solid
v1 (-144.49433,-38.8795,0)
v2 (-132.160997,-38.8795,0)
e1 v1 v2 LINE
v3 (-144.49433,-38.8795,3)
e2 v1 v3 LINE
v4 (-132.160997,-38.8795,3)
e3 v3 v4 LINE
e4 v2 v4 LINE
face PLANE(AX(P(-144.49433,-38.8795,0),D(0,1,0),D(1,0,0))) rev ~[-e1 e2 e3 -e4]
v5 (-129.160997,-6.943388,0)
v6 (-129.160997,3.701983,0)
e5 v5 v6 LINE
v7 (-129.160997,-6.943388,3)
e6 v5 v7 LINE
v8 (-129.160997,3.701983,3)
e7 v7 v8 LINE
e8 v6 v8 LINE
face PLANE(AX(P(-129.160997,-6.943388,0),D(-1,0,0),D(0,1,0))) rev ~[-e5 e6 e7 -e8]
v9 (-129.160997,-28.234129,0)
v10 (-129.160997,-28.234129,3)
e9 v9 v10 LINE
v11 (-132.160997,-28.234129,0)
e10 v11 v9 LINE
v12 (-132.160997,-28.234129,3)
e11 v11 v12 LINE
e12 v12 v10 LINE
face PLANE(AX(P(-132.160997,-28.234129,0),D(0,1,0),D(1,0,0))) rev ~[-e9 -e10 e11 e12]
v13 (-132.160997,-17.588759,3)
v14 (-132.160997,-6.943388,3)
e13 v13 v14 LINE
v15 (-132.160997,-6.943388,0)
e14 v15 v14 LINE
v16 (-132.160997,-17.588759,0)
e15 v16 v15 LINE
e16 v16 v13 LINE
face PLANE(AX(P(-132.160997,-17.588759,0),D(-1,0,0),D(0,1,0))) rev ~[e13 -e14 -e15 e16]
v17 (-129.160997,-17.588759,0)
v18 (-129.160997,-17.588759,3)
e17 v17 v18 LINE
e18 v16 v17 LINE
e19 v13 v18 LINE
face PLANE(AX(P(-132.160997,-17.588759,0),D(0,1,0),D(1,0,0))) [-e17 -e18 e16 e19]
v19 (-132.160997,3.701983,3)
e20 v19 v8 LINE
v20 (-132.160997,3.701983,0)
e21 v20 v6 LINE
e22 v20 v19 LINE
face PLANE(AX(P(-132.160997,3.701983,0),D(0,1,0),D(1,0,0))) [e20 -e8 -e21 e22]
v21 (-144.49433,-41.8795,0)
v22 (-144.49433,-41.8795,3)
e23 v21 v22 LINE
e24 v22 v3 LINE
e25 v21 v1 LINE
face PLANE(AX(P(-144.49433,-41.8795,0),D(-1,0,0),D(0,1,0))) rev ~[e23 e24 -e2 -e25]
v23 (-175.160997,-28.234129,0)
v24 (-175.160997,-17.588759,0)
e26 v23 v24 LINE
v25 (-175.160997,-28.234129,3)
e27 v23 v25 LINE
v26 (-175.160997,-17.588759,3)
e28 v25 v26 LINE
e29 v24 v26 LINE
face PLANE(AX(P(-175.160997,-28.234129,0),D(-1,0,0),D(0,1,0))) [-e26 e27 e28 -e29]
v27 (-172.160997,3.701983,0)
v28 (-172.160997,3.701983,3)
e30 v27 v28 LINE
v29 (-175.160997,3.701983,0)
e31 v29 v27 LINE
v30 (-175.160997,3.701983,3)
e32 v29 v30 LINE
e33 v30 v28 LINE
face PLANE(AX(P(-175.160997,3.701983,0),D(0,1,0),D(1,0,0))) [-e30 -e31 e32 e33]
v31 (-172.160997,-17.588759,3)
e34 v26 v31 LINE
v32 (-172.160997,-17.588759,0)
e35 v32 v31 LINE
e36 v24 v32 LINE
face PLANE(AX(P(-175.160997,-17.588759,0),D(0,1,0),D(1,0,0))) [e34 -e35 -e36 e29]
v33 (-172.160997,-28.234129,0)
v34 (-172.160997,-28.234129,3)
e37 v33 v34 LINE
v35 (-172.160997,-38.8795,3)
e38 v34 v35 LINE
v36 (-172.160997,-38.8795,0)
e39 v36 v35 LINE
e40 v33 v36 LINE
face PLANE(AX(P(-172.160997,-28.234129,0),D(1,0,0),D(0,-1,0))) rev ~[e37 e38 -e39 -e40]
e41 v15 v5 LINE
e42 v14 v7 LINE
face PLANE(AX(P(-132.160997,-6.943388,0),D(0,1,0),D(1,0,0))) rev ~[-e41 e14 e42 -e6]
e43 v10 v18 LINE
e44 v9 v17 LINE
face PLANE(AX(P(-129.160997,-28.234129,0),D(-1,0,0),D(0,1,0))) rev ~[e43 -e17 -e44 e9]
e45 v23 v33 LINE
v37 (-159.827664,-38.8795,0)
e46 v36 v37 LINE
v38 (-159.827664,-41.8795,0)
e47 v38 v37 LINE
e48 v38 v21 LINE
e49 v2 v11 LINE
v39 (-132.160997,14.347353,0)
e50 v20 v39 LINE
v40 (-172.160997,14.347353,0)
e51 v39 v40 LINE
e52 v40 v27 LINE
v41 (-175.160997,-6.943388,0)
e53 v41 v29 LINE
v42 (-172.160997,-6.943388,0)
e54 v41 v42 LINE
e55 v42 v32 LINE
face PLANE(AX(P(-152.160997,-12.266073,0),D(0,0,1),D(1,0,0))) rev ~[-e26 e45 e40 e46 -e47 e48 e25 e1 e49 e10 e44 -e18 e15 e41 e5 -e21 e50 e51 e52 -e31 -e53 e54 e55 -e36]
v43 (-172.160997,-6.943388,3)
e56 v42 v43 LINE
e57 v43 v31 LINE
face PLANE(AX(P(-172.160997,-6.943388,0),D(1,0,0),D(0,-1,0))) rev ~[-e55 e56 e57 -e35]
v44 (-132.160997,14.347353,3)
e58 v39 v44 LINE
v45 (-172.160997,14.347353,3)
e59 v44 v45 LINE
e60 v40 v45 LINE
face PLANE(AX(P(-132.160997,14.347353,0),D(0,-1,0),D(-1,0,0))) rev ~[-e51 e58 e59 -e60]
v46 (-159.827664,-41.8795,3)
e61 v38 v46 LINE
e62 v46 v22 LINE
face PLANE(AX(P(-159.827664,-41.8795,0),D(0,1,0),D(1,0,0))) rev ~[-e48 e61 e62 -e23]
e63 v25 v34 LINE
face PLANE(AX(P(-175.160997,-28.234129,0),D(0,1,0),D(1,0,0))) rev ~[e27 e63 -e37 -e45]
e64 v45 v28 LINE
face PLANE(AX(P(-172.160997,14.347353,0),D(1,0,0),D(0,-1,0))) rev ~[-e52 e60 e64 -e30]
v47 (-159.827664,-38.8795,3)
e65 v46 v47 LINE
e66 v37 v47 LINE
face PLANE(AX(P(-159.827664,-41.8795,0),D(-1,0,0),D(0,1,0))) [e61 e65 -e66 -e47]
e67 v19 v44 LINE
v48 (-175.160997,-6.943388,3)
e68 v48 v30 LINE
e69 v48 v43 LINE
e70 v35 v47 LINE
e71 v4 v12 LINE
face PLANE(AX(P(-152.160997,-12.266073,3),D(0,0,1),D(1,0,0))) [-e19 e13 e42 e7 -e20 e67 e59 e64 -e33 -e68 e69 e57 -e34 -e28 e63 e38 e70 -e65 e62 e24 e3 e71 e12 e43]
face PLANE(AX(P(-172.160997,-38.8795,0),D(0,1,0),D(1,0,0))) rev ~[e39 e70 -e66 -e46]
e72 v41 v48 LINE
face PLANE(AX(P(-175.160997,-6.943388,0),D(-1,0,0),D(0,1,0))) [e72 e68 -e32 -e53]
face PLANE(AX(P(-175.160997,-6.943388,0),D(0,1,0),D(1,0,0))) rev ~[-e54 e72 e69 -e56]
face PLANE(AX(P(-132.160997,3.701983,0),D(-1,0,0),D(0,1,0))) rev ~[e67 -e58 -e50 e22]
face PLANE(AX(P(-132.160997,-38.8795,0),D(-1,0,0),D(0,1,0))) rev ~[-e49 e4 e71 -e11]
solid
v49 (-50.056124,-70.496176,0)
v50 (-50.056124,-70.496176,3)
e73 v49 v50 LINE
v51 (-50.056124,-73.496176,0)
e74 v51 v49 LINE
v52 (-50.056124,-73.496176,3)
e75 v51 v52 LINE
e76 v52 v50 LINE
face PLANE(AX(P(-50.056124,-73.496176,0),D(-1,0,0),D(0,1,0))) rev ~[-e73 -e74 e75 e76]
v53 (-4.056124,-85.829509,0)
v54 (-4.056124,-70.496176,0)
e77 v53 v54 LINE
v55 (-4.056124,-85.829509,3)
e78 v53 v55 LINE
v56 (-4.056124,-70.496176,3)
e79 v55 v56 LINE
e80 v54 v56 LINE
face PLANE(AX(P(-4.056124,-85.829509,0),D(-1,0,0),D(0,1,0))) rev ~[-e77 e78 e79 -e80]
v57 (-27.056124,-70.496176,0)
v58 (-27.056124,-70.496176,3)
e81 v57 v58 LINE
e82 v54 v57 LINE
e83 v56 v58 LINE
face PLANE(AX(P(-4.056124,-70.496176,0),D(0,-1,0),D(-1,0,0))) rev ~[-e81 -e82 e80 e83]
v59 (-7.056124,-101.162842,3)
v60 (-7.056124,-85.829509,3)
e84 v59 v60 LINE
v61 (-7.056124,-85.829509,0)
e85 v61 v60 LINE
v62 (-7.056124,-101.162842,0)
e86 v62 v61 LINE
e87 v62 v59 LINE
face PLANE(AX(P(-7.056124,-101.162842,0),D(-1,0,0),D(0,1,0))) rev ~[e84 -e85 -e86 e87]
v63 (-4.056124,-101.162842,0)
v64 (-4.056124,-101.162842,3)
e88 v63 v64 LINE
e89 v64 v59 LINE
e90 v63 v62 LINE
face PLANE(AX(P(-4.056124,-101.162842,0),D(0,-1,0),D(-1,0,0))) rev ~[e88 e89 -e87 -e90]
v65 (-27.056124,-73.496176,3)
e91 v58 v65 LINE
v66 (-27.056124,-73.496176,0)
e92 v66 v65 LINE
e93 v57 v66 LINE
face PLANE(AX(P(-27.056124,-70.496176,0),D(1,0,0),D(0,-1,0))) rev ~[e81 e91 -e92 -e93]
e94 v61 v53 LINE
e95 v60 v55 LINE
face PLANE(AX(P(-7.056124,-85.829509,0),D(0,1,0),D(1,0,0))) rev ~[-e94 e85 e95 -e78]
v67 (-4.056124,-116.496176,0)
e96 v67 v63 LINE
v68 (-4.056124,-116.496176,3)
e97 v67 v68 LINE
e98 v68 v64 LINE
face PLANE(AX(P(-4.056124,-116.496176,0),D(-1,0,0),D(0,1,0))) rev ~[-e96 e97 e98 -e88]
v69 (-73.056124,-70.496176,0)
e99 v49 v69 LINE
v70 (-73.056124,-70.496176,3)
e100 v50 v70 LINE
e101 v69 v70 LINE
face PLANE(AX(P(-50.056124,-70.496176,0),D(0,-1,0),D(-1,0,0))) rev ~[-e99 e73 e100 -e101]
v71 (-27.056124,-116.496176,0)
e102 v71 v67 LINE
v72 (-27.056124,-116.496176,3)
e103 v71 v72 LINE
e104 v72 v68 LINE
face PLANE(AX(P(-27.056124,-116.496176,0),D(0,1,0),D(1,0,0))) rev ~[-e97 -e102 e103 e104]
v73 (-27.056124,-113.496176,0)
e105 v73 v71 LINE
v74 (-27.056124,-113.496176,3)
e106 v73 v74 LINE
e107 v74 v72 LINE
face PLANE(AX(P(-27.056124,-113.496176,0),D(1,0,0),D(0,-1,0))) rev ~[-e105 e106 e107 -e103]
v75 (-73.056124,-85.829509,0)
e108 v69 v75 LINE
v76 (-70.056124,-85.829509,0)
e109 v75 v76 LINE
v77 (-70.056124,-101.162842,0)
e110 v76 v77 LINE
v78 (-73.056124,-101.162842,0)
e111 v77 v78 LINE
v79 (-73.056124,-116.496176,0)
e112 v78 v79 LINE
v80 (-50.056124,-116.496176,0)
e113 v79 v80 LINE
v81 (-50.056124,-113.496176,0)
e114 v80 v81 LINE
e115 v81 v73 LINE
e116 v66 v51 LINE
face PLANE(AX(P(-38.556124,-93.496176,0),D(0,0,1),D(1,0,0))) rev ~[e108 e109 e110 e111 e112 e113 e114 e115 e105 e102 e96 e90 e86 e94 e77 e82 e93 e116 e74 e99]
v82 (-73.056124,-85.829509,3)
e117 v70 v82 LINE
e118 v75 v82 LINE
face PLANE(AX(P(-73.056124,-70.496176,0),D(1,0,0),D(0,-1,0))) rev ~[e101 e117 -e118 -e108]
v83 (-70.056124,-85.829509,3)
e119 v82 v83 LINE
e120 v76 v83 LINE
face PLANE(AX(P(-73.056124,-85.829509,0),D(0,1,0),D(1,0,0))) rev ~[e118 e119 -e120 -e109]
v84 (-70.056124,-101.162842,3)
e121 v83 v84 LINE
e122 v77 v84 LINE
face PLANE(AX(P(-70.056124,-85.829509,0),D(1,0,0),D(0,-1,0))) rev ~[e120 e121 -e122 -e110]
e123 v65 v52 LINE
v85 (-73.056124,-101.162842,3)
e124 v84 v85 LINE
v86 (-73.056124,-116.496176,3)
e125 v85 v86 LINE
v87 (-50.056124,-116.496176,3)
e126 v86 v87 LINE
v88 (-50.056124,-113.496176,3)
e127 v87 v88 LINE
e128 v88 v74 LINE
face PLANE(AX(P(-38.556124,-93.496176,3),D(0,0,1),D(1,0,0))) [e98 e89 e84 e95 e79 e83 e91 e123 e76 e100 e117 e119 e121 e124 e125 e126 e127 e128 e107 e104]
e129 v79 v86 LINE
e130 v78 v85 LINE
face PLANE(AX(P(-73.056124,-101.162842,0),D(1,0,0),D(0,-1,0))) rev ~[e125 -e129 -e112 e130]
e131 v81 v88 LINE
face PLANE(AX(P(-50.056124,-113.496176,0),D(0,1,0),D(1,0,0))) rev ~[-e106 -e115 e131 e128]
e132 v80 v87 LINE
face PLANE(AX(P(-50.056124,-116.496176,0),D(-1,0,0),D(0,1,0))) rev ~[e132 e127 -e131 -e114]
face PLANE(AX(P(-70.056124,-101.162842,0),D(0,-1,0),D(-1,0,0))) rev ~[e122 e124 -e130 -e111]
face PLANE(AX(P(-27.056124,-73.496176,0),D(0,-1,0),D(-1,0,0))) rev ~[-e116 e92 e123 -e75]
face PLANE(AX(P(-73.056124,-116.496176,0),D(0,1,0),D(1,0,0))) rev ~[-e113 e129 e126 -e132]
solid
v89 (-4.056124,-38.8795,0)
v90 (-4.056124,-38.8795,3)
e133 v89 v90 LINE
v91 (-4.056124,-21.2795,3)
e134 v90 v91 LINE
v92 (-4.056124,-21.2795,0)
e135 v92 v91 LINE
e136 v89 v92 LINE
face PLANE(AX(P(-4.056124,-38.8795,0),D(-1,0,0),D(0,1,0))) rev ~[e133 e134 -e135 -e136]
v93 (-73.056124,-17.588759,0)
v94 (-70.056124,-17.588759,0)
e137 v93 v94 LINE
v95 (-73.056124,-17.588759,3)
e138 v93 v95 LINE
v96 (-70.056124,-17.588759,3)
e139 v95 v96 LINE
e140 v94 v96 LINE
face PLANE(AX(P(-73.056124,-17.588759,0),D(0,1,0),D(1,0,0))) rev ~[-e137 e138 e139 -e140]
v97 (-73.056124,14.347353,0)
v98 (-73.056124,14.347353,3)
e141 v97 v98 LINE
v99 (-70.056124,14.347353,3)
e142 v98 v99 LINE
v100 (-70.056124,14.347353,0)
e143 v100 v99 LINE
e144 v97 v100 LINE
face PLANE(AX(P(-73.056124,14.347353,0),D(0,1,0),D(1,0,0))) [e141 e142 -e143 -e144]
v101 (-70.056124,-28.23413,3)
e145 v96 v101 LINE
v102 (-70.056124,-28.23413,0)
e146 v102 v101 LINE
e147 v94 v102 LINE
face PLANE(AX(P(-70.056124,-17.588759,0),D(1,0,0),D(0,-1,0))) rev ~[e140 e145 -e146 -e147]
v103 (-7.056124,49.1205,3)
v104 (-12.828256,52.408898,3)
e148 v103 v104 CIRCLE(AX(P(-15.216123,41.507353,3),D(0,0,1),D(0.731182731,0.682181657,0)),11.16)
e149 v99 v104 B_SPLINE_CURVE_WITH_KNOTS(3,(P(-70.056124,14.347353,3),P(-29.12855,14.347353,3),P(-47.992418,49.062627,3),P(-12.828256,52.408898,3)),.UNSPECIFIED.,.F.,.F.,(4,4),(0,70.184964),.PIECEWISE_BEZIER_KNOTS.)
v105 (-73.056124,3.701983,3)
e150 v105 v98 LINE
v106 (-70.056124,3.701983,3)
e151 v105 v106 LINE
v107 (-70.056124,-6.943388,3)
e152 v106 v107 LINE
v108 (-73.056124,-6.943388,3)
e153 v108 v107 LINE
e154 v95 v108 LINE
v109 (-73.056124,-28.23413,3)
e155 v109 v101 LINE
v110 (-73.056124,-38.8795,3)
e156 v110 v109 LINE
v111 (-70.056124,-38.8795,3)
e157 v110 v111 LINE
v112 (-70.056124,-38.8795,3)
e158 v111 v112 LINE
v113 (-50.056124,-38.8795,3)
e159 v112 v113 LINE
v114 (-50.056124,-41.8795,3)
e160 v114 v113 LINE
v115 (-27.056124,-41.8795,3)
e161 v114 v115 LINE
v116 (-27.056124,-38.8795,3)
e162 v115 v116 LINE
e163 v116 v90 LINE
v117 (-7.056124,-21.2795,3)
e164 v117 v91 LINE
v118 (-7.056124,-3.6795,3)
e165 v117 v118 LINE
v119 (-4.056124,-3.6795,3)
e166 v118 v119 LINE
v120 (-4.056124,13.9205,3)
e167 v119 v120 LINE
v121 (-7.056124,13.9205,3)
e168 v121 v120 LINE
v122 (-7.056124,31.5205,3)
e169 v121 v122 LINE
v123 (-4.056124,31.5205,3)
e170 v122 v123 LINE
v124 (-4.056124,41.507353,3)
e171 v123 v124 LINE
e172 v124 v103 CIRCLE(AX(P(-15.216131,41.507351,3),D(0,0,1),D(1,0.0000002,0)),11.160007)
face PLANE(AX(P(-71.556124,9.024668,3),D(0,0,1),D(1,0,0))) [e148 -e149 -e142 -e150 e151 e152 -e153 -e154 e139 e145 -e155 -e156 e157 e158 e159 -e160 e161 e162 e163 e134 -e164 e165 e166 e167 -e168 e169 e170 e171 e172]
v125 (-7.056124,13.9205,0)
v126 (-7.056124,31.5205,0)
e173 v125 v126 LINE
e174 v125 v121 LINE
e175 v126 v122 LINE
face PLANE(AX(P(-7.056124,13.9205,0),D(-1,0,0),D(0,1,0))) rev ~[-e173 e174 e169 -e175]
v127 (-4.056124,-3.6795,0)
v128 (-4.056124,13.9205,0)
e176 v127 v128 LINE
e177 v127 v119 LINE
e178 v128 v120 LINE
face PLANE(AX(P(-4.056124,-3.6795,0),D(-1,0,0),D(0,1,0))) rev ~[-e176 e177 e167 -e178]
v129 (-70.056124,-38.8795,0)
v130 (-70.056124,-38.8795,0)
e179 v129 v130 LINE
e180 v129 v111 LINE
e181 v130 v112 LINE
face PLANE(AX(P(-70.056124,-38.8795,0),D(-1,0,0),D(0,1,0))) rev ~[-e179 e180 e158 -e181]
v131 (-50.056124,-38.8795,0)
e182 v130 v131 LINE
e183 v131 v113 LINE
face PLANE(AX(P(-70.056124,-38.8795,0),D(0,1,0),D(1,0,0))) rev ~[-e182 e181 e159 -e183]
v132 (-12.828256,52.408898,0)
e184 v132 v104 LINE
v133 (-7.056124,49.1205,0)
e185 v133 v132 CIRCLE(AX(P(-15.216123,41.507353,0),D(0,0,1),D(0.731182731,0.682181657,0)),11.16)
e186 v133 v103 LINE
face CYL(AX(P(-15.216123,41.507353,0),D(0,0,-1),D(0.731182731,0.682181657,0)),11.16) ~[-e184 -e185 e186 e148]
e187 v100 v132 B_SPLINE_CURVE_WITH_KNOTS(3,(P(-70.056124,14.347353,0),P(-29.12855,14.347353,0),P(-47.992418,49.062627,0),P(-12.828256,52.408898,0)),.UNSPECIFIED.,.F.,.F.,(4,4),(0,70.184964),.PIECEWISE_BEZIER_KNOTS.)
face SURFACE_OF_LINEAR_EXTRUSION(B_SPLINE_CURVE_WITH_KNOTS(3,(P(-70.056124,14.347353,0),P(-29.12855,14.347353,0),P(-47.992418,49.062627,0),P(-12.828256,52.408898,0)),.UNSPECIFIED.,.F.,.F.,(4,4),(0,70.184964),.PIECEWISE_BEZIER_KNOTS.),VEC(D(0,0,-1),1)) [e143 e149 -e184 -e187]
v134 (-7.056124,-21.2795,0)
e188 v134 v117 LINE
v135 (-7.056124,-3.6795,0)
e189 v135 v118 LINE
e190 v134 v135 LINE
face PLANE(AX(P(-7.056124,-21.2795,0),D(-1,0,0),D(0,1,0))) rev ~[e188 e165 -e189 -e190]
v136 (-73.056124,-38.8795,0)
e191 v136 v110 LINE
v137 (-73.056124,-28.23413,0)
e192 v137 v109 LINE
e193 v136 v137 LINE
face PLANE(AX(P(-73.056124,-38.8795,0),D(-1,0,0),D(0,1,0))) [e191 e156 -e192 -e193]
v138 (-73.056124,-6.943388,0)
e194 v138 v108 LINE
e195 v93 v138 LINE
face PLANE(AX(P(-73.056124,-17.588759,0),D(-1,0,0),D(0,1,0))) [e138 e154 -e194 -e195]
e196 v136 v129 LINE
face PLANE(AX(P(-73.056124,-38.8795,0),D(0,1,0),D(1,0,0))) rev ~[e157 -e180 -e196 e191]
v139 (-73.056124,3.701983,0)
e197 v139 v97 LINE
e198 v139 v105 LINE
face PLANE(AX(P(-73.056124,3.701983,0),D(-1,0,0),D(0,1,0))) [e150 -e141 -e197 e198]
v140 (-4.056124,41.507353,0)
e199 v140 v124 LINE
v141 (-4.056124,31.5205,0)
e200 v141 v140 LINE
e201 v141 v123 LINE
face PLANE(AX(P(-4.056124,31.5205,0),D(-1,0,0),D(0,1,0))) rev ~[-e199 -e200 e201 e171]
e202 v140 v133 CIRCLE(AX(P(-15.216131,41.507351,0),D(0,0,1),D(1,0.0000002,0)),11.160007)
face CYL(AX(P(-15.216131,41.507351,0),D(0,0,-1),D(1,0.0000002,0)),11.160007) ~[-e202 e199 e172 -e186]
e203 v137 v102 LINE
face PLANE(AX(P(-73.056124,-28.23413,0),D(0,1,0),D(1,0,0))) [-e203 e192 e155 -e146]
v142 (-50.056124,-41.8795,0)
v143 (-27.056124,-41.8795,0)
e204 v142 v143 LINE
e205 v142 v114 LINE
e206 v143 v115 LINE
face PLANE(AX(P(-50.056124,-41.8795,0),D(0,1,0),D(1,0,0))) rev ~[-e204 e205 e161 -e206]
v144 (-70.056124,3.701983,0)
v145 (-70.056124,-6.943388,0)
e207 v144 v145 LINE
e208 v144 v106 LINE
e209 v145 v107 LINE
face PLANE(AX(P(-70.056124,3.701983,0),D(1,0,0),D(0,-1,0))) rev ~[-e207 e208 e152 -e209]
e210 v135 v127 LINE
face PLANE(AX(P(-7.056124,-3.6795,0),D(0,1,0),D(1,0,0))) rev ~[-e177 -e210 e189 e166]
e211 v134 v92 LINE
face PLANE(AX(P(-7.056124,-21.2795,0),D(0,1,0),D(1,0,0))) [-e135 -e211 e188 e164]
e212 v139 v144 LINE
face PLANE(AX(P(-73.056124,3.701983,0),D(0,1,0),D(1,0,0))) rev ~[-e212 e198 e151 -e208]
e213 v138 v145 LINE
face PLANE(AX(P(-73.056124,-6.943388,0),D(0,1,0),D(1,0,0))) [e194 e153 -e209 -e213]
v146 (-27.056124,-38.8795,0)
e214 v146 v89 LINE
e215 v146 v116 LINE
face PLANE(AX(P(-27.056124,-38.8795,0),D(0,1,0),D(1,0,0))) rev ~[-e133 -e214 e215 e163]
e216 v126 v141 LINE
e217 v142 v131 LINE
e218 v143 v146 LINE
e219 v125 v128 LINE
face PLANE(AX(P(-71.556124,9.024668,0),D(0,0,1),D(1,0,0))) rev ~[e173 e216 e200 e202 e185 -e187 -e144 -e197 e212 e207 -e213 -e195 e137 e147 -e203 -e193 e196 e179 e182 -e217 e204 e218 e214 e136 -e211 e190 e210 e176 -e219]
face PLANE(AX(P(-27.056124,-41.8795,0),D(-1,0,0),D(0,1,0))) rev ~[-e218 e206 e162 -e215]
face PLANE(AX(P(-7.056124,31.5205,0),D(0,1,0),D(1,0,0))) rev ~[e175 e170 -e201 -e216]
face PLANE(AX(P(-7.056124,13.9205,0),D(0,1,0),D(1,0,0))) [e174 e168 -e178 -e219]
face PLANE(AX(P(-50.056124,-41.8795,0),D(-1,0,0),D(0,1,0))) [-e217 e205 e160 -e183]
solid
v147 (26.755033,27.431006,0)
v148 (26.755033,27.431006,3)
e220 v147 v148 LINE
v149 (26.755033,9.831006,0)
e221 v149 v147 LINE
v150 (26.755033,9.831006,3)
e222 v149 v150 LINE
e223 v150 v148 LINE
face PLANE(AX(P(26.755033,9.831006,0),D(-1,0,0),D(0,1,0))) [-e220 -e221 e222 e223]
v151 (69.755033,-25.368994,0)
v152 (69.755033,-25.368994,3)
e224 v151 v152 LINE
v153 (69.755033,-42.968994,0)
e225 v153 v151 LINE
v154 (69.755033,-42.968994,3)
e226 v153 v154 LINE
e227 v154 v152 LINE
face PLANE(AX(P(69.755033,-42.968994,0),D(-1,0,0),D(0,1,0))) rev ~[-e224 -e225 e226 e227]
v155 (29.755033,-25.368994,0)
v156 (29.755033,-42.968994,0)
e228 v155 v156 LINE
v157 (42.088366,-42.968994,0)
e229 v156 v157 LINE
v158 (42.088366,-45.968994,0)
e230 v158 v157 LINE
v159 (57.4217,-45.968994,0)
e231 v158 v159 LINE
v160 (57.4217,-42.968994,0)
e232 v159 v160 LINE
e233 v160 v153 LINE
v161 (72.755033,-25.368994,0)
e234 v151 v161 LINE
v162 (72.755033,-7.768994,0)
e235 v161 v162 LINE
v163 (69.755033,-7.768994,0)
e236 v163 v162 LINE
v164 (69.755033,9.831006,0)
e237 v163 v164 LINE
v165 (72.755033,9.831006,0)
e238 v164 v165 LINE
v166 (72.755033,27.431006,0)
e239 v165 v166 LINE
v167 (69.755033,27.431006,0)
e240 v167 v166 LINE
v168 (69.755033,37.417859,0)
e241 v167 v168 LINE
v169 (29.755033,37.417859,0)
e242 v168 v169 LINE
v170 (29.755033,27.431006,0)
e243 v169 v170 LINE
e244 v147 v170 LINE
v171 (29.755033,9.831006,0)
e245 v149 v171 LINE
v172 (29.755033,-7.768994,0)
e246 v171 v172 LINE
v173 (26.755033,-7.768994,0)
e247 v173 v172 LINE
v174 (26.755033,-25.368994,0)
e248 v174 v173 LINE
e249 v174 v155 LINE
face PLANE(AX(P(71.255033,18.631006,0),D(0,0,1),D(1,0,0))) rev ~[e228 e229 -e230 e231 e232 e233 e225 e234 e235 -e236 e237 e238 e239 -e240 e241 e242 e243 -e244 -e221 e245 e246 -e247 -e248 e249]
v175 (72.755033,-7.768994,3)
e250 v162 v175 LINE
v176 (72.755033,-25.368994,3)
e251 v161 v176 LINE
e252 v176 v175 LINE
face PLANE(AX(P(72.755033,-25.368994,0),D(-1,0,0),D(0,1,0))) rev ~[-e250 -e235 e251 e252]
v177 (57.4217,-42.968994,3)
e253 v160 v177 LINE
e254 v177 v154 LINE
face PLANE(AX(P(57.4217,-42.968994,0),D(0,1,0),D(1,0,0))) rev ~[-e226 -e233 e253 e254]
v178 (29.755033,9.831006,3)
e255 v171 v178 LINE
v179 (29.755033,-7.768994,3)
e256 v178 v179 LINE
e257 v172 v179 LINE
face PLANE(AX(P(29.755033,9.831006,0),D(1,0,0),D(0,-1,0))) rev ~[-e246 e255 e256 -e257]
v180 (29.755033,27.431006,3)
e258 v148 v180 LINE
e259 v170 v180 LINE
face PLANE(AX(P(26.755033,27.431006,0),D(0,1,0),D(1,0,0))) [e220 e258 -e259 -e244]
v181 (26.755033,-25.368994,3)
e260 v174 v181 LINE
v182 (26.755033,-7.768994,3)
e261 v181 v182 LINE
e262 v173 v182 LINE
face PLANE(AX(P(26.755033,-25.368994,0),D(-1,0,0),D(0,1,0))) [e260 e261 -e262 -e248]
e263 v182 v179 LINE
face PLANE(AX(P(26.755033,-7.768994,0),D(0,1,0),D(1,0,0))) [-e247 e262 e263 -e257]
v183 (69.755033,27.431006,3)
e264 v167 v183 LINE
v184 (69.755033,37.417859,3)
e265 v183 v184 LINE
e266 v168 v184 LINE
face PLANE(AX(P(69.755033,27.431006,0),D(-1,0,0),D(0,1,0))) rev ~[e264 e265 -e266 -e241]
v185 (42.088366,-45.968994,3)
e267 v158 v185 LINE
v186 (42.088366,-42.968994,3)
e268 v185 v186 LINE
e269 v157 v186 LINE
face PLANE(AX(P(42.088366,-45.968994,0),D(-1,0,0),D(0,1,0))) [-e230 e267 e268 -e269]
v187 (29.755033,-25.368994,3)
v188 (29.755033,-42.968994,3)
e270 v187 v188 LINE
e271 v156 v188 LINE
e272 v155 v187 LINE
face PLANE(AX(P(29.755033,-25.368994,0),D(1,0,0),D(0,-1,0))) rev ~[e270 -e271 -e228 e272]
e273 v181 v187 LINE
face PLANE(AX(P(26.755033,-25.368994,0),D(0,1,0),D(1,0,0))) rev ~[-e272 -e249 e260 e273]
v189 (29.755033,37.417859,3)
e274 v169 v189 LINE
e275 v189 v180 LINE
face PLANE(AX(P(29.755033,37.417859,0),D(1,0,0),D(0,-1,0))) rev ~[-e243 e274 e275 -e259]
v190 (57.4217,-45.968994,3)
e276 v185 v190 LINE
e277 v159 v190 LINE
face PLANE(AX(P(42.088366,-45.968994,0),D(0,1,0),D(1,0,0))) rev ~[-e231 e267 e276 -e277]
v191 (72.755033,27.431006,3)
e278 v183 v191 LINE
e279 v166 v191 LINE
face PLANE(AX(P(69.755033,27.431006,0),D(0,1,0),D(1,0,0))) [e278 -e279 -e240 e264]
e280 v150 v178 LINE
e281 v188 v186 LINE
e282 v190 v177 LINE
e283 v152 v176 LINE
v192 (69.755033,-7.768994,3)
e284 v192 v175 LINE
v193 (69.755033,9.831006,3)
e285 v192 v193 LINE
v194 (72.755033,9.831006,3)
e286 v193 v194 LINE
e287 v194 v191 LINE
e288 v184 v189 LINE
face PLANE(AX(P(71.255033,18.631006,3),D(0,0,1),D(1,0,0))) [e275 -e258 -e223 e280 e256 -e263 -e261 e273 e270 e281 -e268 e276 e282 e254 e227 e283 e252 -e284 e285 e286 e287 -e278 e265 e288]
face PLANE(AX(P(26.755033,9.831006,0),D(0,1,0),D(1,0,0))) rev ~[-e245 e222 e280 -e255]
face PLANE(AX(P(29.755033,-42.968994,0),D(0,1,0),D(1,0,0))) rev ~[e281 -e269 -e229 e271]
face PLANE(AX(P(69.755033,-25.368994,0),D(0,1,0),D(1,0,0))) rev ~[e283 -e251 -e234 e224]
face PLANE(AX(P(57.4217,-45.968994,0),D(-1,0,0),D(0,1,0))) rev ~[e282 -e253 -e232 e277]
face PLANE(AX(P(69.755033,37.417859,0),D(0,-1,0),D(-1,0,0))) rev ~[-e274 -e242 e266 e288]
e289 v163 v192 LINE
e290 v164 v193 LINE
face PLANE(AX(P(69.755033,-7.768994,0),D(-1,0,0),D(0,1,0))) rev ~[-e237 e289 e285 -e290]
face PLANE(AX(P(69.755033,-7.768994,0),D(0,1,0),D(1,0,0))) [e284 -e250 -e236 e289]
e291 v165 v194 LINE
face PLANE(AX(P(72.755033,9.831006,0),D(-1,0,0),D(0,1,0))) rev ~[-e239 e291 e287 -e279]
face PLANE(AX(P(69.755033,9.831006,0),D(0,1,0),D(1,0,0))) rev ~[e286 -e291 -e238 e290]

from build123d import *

# Parameters (mm, degrees)
F0_W     = 3
F0_H     = 17.6
F0_H_2   = 10.645371
F0_H_3   = 10.64537
F0_W_2   = 15.333334
F0_H_4   = 3
F0_W_3   = 23
F1_DEPTH = 3


with BuildPart() as f1:
    # F0 (on Top) → F1 (new body)
    with BuildSketch(Plane.XY):
        with Locations((71.255033, 18.631006)):
            Rectangle(F0_W, F0_H)
        with Locations((71.255033, -16.568994)):
            Rectangle(F0_W, F0_H)
        Polygon((-50.056124, -73.496176), (-70.056124, -73.496176), (-70.056124, -85.829509), (-70.056124, -101.162842), (-70.056124, -113.496176), (-50.056124, -113.496176), (-27.056124, -113.496176), (-7.056124, -113.496176), (-7.056124, -101.162842), (-7.056124, -85.829509), (-7.056124, -73.496176), (-27.056124, -73.496176), align=None)
        Polygon((-132.160997, 14.347353), (-172.160997, 14.347353), (-172.160997, 3.701983), (-172.160997, -6.943388), (-172.160997, -17.588759), (-172.160997, -28.234129), (-172.160997, -38.8795), (-159.827664, -38.8795), (-144.49433, -38.8795), (-132.160997, -38.8795), (-132.160997, -28.234129), (-132.160997, -17.588759), (-132.160997, -6.943388), (-132.160997, 3.701983), align=None)
        Polygon((-7.056124, -113.496176), (-27.056124, -113.496176), (-27.056124, -116.496176), (-4.056124, -116.496176), (-4.056124, -101.162842), (-7.056124, -101.162842), align=None)
        with Locations((-130.660997, -1.620702)):
            Rectangle(F0_W, F0_H_2)
        with Locations((-130.660997, -22.911444)):
            Rectangle(F0_W, F0_H_3)
        with Locations((49.755033, -44.468994)):
            Rectangle(F0_W_2, F0_H_4)
        with Locations((-71.556124, 9.024668)):
            Rectangle(F0_W, F0_H_3)
        with Locations((-71.556124, -12.266073)):
            Rectangle(F0_W, F0_H_2)
        with Locations((-71.556124, -33.556815)):
            Rectangle(F0_W, F0_H_2)
        with Locations((-38.556124, -40.3795)):
            Rectangle(F0_W_3, F0_H_4)
        with Locations((-5.556124, -30.0795)):
            Rectangle(F0_W, F0_H)
        with Locations((-5.556124, 5.1205)):
            Rectangle(F0_W, F0_H)
        with BuildLine():
            ThreePointArc((-4.056124, 41.507353), (-4.833177, 45.598808), (-7.056124, 49.1205))
            Line((-7.056124, 49.1205), (-7.056124, 31.5205))
            Line((-7.056124, 31.5205), (-4.056124, 31.5205))
            Line((-4.056124, 31.5205), (-4.056124, 41.507353))
        make_face()
        with Locations((-173.660997, -1.620702)):
            Rectangle(F0_W, F0_H_2)
        with Locations((-173.660997, -22.911444)):
            Rectangle(F0_W, F0_H_3)
        with Locations((-152.160997, -40.3795)):
            Rectangle(F0_W_2, F0_H_4)
        Polygon((-70.056124, -85.829509), (-70.056124, -73.496176), (-50.056124, -73.496176), (-50.056124, -70.496176), (-73.056124, -70.496176), (-73.056124, -85.829509), align=None)
        Polygon((-70.056124, -113.496176), (-70.056124, -101.162842), (-73.056124, -101.162842), (-73.056124, -116.496176), (-50.056124, -116.496176), (-50.056124, -113.496176), align=None)
        Polygon((-27.056124, -70.496176), (-27.056124, -73.496176), (-7.056124, -73.496176), (-7.056124, -85.829509), (-4.056124, -85.829509), (-4.056124, -70.496176), align=None)
        Polygon((69.755033, 37.417859), (29.755033, 37.417859), (29.755033, 27.431006), (29.755033, 9.831006), (29.755033, -7.768994), (29.755033, -25.368994), (29.755033, -42.968994), (42.088366, -42.968994), (57.4217, -42.968994), (69.755033, -42.968994), (69.755033, -25.368994), (69.755033, -7.768994), (69.755033, 9.831006), (69.755033, 27.431006), align=None)
        with Locations((28.255033, 18.631006)):
            Rectangle(F0_W, F0_H)
        with BuildLine():
            add(Edge.make_bspline(
                [(-70.056124, 14.347353), (-29.12855, 14.347353), (-47.992418, 49.062627), (-12.828256, 52.408898)],
                knots=[0, 0, 0, 0, 70.184964, 70.184964, 70.184964, 70.184964], degree=3))
            Line((-70.056124, 14.347353), (-70.056124, 3.701983))
            Line((-70.056124, 3.701983), (-70.056124, -6.943388))
            Line((-70.056124, -6.943388), (-70.056124, -17.588759))
            Line((-70.056124, -17.588759), (-70.056124, -28.234129))
            Line((-70.056124, -28.234129), (-70.056124, -38.8795))
            Line((-70.056124, -38.8795), (-50.056124, -38.8795))
            Line((-50.056124, -38.8795), (-27.056124, -38.8795))
            Line((-27.056124, -38.8795), (-7.056124, -38.8795))
            Line((-7.056124, -38.8795), (-7.056124, -21.2795))
            Line((-7.056124, -21.2795), (-7.056124, -3.6795))
            Line((-7.056124, -3.6795), (-7.056124, 13.9205))
            Line((-7.056124, 13.9205), (-7.056124, 31.5205))
            Line((-7.056124, 31.5205), (-7.056124, 49.1205))
            ThreePointArc((-7.056124, 49.1205), (-9.691835, 51.204148), (-12.828256, 52.408898))
        make_face()
        with Locations((28.255033, -16.568994)):
            Rectangle(F0_W, F0_H)
    extrude(amount=F1_DEPTH)


solid = f1.part
